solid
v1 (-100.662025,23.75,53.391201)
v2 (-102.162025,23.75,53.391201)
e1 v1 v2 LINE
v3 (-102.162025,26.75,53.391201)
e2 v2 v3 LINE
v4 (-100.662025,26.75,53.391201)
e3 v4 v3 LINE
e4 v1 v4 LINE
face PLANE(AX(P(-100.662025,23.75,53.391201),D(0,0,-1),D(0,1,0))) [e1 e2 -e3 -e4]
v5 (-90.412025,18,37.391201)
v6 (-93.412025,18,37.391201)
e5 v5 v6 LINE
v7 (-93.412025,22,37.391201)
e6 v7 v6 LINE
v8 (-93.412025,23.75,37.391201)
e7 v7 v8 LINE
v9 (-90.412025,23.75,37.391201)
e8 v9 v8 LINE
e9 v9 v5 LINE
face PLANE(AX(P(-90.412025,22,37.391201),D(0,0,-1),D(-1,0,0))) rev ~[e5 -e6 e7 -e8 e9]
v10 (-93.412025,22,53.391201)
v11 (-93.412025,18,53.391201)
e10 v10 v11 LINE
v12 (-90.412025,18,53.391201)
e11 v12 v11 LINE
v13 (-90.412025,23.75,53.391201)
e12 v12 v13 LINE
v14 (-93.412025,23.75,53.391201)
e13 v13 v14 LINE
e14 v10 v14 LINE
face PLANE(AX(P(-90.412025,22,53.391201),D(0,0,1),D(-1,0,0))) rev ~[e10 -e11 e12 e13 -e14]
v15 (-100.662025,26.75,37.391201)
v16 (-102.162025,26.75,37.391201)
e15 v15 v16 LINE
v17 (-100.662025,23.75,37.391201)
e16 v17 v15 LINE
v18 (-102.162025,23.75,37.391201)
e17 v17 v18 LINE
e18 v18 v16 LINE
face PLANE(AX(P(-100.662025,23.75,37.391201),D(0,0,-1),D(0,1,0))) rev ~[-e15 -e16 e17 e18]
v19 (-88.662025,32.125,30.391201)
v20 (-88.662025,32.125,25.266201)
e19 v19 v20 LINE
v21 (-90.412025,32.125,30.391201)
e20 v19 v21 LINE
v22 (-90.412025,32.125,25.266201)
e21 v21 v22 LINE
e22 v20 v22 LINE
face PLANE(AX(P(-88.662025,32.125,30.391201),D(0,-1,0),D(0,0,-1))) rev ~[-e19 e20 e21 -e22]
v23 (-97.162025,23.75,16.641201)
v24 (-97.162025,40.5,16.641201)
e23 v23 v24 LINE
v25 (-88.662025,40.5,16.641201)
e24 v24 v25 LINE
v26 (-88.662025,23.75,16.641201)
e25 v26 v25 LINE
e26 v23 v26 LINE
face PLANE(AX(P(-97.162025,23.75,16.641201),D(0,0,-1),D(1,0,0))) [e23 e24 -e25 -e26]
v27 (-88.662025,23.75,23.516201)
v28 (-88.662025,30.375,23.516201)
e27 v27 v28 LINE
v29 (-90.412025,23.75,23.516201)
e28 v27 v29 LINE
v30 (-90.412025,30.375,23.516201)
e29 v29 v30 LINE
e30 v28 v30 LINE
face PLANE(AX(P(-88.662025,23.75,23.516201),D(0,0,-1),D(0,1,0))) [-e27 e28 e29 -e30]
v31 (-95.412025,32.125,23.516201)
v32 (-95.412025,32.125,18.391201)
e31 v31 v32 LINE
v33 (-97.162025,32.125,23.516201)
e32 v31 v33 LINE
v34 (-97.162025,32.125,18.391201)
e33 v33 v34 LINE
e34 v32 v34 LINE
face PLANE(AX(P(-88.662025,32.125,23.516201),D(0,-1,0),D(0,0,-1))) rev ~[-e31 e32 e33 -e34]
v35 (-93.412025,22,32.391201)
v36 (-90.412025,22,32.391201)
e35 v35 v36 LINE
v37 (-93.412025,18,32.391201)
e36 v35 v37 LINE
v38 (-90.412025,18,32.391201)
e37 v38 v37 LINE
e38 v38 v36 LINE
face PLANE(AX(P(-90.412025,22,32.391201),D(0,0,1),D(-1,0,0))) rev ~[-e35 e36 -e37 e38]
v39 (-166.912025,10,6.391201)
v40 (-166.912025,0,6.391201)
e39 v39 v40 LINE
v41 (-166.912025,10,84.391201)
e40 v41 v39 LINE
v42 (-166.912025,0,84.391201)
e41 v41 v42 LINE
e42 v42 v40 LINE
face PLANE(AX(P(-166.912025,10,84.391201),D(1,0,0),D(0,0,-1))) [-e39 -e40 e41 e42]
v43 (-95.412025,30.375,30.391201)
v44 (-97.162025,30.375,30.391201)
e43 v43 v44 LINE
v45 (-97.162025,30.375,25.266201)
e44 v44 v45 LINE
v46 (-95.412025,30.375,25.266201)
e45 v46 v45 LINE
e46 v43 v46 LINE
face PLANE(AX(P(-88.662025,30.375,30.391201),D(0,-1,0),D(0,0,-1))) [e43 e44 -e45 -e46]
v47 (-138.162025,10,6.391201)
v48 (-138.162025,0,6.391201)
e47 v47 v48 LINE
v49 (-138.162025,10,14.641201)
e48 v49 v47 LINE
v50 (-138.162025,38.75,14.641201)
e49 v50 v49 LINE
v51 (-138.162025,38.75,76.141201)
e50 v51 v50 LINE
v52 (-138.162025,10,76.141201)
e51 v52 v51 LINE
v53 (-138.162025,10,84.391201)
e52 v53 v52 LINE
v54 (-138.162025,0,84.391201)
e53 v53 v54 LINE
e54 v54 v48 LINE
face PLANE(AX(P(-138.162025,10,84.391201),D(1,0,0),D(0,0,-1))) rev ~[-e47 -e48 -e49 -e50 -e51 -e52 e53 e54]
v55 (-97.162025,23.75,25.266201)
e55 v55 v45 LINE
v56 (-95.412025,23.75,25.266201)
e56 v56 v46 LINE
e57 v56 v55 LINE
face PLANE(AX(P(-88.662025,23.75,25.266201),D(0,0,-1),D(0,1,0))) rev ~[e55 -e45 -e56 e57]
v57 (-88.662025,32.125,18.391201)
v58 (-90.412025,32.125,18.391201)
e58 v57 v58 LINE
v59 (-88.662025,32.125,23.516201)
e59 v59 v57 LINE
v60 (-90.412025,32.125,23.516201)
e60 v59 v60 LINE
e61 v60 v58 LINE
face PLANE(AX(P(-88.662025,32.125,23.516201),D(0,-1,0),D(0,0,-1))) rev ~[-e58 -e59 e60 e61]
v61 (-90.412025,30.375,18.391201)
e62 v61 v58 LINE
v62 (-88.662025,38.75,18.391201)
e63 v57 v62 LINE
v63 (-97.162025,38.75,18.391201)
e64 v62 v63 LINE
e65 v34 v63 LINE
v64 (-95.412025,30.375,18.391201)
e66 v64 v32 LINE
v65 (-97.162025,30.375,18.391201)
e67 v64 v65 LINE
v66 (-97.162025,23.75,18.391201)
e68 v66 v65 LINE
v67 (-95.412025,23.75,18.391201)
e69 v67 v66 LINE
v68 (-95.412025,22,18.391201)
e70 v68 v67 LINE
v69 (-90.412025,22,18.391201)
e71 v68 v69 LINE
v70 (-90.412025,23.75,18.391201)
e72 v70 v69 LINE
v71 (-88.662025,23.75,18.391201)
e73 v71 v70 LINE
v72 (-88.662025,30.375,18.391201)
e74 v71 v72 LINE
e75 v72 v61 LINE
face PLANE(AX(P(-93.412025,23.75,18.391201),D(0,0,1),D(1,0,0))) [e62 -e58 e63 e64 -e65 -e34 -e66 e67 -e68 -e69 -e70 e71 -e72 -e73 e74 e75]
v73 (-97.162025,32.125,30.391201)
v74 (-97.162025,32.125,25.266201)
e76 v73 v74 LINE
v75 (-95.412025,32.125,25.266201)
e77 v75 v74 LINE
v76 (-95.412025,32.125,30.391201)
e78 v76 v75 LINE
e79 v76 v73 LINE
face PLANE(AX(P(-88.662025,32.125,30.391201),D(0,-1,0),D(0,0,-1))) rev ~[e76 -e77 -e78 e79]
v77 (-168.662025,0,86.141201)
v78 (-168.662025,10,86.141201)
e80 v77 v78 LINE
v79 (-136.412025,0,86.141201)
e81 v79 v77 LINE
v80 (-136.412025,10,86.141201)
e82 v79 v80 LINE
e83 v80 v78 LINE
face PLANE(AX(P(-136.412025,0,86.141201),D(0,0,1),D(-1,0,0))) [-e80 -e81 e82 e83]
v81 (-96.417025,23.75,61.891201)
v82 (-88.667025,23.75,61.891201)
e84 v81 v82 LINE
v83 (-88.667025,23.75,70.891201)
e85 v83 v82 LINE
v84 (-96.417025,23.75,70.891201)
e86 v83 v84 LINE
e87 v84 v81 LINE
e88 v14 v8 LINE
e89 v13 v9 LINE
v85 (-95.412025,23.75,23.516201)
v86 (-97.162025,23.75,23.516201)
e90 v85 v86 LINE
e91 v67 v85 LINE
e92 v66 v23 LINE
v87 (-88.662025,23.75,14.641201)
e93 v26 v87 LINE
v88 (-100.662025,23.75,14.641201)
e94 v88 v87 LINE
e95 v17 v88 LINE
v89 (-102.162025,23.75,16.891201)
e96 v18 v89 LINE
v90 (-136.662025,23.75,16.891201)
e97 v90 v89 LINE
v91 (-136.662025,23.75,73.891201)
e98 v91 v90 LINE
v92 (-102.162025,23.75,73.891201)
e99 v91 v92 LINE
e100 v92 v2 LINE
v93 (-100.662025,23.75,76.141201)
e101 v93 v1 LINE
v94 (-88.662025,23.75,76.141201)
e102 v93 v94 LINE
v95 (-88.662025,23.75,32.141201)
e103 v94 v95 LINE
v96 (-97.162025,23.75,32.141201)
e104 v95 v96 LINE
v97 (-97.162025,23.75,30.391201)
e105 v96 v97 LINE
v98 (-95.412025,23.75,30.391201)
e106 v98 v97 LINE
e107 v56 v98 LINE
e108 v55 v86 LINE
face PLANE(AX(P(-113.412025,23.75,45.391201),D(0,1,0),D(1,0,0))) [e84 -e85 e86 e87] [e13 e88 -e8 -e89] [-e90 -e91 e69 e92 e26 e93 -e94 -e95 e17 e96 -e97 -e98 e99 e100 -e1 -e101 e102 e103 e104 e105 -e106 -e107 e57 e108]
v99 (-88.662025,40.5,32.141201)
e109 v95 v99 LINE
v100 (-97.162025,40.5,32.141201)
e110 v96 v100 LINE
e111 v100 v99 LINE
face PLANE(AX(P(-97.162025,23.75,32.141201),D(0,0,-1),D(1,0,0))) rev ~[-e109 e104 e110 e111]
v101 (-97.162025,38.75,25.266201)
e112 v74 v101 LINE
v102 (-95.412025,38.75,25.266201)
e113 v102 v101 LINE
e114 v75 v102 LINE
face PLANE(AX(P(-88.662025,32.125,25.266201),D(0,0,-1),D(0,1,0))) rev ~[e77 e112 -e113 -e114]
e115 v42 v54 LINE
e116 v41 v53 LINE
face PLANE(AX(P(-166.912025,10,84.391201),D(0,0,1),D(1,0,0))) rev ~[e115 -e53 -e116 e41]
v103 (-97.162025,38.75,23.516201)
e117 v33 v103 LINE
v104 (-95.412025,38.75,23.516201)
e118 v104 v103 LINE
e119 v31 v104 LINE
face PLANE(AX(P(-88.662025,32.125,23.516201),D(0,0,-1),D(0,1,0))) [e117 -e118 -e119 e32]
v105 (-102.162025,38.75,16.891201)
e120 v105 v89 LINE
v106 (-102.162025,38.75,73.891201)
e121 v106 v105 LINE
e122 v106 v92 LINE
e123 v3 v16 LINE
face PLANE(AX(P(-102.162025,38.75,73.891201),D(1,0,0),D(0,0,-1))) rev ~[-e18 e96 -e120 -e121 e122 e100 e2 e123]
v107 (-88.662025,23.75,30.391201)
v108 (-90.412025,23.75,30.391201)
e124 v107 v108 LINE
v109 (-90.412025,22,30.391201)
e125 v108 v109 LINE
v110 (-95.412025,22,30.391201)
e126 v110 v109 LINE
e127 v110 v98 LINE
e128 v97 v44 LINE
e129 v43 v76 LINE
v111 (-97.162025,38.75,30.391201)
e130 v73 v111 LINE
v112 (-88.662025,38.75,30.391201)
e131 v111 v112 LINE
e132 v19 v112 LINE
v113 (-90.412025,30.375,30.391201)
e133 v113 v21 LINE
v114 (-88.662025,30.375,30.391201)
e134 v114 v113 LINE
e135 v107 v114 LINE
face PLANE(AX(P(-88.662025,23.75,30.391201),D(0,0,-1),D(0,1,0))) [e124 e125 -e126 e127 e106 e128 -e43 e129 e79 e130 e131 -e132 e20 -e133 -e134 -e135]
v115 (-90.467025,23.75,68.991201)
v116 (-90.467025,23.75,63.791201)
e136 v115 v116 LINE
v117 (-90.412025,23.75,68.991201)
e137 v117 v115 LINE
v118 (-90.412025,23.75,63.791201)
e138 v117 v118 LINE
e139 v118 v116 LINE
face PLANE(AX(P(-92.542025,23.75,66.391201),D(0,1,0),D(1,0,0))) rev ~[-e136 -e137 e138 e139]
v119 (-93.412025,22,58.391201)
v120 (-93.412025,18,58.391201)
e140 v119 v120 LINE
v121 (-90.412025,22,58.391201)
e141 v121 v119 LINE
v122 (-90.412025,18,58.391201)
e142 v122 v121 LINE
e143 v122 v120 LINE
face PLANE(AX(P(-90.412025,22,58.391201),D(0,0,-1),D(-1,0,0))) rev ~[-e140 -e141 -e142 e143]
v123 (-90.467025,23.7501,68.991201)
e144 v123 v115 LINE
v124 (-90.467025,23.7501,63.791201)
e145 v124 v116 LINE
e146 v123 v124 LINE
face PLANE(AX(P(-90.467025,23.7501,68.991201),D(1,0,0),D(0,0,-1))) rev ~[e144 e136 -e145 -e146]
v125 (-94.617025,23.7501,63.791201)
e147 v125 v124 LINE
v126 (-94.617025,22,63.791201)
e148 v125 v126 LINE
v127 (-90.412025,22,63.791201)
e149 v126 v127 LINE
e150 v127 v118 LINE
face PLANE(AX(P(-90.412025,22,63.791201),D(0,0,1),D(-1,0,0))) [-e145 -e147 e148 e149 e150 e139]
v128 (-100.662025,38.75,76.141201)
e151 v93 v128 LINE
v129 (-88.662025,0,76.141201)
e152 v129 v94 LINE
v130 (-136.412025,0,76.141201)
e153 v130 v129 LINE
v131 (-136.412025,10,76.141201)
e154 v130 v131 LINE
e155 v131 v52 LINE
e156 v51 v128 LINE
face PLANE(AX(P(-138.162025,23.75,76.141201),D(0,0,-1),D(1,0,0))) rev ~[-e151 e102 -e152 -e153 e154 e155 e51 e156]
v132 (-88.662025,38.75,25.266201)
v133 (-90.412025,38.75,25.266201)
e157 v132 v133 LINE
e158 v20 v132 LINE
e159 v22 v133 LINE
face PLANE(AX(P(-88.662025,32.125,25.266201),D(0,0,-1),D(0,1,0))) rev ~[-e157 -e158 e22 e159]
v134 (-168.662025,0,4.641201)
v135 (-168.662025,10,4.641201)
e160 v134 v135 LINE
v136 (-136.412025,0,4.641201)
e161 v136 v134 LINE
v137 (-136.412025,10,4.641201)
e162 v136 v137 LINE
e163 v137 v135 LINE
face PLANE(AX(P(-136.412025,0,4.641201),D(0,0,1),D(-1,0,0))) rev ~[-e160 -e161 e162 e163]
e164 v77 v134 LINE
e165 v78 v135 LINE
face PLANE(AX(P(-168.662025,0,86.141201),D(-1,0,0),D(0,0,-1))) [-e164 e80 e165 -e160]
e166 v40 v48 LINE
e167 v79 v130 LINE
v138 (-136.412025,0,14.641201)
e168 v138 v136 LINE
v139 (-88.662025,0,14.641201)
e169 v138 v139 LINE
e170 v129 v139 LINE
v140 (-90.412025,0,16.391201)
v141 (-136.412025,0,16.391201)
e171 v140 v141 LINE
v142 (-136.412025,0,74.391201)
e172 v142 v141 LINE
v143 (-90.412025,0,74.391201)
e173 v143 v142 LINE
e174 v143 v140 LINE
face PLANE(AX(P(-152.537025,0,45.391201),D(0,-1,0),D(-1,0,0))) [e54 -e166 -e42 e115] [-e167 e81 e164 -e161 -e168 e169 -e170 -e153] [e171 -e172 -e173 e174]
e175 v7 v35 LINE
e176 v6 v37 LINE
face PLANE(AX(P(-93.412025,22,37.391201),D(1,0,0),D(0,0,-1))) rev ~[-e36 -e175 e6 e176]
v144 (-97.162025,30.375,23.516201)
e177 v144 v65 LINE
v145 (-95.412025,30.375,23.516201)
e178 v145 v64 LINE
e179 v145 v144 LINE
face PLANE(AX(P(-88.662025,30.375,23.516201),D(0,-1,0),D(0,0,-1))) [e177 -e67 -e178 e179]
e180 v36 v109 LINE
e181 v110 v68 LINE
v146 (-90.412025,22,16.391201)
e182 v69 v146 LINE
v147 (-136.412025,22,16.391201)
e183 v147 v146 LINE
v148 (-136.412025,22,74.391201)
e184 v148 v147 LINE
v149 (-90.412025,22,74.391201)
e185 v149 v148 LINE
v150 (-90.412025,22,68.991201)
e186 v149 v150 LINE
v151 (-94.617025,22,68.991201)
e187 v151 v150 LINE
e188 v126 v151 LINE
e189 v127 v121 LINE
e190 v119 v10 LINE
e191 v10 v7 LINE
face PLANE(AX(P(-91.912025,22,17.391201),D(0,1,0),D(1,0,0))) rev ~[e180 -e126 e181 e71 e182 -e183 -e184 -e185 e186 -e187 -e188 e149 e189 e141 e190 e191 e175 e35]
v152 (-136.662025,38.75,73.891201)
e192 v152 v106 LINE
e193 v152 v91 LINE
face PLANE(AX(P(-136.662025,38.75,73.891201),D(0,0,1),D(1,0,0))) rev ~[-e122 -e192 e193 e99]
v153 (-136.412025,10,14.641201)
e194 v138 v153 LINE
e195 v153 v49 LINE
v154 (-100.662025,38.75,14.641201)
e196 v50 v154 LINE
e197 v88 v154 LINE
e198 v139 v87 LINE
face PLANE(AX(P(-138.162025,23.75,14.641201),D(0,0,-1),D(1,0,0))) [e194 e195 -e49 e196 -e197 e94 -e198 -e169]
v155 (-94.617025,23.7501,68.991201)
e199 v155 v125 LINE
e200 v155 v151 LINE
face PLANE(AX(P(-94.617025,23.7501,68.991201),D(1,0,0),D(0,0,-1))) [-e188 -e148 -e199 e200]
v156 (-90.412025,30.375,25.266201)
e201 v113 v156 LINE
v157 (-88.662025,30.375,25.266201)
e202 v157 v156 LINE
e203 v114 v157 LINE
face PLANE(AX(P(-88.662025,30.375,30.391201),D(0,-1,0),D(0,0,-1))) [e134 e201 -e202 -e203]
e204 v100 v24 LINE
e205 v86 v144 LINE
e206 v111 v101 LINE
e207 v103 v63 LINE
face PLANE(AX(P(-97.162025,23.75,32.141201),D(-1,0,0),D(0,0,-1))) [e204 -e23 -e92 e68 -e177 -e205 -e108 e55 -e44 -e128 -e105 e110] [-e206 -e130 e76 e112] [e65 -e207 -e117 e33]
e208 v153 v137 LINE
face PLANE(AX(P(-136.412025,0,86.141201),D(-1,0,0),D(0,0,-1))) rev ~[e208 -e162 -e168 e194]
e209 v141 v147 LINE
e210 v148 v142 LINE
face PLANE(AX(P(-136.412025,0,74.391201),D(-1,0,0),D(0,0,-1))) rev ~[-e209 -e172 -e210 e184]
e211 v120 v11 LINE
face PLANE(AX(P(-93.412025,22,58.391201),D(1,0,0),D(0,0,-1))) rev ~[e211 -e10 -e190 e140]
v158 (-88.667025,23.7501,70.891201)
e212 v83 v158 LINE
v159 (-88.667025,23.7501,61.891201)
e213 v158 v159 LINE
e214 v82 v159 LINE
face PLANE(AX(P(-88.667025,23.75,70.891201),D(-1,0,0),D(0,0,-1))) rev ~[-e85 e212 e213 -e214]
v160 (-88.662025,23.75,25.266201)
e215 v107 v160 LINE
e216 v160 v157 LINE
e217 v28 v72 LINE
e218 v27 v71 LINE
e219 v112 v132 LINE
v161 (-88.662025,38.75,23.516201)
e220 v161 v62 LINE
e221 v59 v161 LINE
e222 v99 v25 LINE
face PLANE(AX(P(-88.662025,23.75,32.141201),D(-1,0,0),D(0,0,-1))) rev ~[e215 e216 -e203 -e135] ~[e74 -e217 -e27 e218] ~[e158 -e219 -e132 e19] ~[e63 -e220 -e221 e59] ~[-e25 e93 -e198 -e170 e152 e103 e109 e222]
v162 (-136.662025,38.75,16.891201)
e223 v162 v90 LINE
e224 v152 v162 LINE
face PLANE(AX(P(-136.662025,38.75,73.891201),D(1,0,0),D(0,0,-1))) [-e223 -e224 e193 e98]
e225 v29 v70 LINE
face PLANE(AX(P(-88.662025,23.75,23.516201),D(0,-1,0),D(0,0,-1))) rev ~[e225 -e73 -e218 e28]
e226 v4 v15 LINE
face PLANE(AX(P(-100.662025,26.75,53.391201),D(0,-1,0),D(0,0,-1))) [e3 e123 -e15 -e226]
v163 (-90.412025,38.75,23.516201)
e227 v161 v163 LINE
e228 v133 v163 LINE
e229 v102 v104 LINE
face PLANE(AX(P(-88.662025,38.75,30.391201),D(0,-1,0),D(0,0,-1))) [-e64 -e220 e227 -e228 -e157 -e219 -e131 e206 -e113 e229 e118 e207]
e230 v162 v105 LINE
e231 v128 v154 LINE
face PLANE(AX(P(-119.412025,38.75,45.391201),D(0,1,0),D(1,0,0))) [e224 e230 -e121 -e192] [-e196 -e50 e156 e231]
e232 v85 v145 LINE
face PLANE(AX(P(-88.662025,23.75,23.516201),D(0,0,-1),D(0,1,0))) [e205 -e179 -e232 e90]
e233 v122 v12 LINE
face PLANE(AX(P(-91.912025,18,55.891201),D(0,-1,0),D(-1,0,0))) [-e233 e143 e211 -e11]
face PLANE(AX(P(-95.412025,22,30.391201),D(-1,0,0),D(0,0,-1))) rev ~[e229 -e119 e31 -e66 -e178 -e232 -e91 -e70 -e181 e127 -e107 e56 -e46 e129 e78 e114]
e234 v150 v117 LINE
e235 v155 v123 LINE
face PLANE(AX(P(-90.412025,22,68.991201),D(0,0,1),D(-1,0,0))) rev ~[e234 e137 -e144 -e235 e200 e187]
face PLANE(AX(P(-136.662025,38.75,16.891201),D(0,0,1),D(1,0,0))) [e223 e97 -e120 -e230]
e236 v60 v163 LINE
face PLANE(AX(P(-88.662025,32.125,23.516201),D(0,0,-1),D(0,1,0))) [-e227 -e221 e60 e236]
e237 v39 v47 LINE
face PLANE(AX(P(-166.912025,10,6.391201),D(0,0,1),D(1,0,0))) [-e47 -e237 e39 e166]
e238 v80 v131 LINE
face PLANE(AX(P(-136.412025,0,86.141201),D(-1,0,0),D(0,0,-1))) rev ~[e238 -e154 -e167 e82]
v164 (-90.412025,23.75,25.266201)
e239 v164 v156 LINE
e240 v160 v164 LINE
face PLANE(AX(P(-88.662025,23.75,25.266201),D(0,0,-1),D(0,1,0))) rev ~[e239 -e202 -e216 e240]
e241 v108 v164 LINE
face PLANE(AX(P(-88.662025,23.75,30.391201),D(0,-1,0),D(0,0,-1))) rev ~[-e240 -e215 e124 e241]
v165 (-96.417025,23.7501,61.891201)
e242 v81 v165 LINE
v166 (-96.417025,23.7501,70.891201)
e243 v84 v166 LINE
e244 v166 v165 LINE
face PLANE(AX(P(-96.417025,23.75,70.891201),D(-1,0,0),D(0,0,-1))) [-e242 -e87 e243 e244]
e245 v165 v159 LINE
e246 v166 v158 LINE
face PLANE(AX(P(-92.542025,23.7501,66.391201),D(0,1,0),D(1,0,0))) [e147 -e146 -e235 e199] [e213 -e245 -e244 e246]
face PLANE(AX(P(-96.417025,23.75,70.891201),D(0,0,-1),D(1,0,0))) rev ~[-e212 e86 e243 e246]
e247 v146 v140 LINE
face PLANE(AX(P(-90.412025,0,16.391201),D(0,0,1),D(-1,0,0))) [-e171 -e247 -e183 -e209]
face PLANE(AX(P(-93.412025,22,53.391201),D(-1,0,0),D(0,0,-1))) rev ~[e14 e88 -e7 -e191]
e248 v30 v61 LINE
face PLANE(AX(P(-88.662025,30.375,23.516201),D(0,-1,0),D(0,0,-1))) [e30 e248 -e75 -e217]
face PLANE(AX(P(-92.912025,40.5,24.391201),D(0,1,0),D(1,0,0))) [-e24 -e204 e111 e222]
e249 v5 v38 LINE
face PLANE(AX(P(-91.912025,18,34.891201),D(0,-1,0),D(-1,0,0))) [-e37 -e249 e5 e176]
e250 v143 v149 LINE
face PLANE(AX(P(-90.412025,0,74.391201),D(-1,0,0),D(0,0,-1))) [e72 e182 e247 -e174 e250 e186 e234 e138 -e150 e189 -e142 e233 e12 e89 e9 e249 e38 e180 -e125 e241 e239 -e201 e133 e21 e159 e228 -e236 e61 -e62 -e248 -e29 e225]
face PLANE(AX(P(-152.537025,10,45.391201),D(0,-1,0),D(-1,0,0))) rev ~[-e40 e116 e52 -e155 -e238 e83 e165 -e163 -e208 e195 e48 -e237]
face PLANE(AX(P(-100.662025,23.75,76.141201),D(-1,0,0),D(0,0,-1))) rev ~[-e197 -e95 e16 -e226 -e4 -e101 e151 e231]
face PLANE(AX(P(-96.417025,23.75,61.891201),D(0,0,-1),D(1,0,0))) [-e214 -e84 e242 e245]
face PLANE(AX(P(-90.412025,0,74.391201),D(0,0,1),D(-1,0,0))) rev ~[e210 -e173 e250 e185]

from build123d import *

# Parameters (mm, degrees)
SKETCH1_W               = 49.5
SKETCH1_H               = 61.5
BOSS_EXTRUDE1_DEPTH     = 23.75
SKETCH2_W               = 46
SKETCH2_H               = 58
CUT_EXTRUDE1_DEPTH      = 22
SKETCH3_W               = 3
SKETCH3_H               = 16
CUT_EXTRUDE2_DEPTH      = 1.75
SKETCH7_W               = 3
SKETCH7_H               = 5
BOSS_EXTRUDE2_DEPTH     = 4
SKETCH11_W              = 37.5
SKETCH11_H              = 61.5
BOSS_EXTRUDE3_DEPTH     = 15
SKETCH12_W              = 34.5
SKETCH12_H              = 57
CUT_EXTRUDE3_DEPTH      = 15
SKETCH14_W              = 7.75
SKETCH14_H              = 9
BOSS_EXTRUDE4_DEPTH     = 0.0001
SKETCH15_W              = 4.15
SKETCH15_H              = 5.2
CUT_EXTRUDE4_DEPTH      = 4.75
SKETCH16_W              = 8.5
SKETCH16_H              = 15.5
BOSS_EXTRUDE5_DEPTH     = 16.75
SKETCH17_W              = 5.125
SKETCH17_H              = 6.625
CUT_EXTRUDE5_DEPTH      = 8.5
CUT_EXTRUDE6_DEPTH      = 15
CUT_EXTRUDE6_DEPTH_BACK = 1.75
SKETCH18_W              = 5
SKETCH18_H              = 12
SKETCH20_W              = 16
SKETCH20_H              = 3
CUT_EXTRUDE7_DEPTH      = 1.75
SKETCH21_W              = 32.25
SKETCH21_H              = 81.5
BOSS_EXTRUDE7_DEPTH     = 10
SKETCH23_W              = 28.75
SKETCH23_H              = 78
CUT_EXTRUDE8_DEPTH      = 10
SKETCH25_W              = 3
SKETCH25_H              = 5.4
BOSS_EXTRUDE8_DEPTH     = 1.75
SKETCH28_W              = 3
SKETCH28_H              = 2
BOSS_EXTRUDE9_DEPTH     = 1.75


with BuildPart() as part:
    # Sketch1 → Boss-Extrude1 (new body)
    with BuildSketch(Plane(origin=(0, 0, 0), x_dir=(1, 0, 0), z_dir=(0, 1, 0))):
        with Locations((-113.412024913, -45.391200727)):
            Rectangle(SKETCH1_W, SKETCH1_H)
    extrude(amount=BOSS_EXTRUDE1_DEPTH)

    # Sketch2 → Cut-Extrude1 (cut)
    with BuildSketch(Plane(origin=(0, 0, 0), x_dir=(-1, 0, 0), z_dir=(0, -1, 0))):
        with Locations((113.412024913, -45.391200727)):
            Rectangle(SKETCH2_W, SKETCH2_H)
    extrude(amount=-CUT_EXTRUDE1_DEPTH, mode=Mode.SUBTRACT)

    # Sketch3 → Cut-Extrude2 (cut)
    with BuildSketch(Plane(origin=(0, 22, 0), x_dir=(-1, 0, 0), z_dir=(0, -1, 0))):
        with Locations((91.912024913, -66.391200727)):
            Rectangle(SKETCH3_W, SKETCH3_H)
        with Locations((91.912024913, -24.391200727)):
            Rectangle(SKETCH3_W, SKETCH3_H)
        with Locations((91.912024913, -45.391200727)):
            Rectangle(SKETCH3_W, SKETCH3_H)
    extrude(amount=-CUT_EXTRUDE2_DEPTH, mode=Mode.SUBTRACT)

    # Sketch7 → Boss-Extrude2 (add)
    with BuildSketch(Plane(origin=(0, 22, 0), x_dir=(-1, 0, 0), z_dir=(0, -1, 0))):
        with Locations((91.912024913, -55.891200727)):
            Rectangle(SKETCH7_W, SKETCH7_H)
        with Locations((91.912024913, -34.891200727)):
            Rectangle(SKETCH7_W, SKETCH7_H)
    extrude(amount=BOSS_EXTRUDE2_DEPTH)

    # Sketch11 → Boss-Extrude3 (add)
    with BuildSketch(Plane(origin=(0, 23.75, 0), x_dir=(1, 0, 0), z_dir=(0, 1, 0))):
        with Locations((-119.412024913, -45.391200727)):
            Rectangle(SKETCH11_W, SKETCH11_H)
    extrude(amount=BOSS_EXTRUDE3_DEPTH)

    # Sketch12 → Cut-Extrude3 (cut)
    with BuildSketch(Plane(origin=(0, 38.75, 0), x_dir=(1, 0, 0), z_dir=(0, 1, 0))):
        with Locations((-119.412024913, -45.391200727)):
            Rectangle(SKETCH12_W, SKETCH12_H)
    extrude(amount=-CUT_EXTRUDE3_DEPTH, mode=Mode.SUBTRACT)

    # Sketch14 → Boss-Extrude4 (add)
    with BuildSketch(Plane(origin=(0, 23.75, 0), x_dir=(1, 0, 0), z_dir=(0, 1, 0))):
        with Locations((-92.542024913, -66.391200727)):
            Rectangle(SKETCH14_W, SKETCH14_H)
    extrude(amount=BOSS_EXTRUDE4_DEPTH)

    # Sketch15 → Cut-Extrude4 (cut)
    with BuildSketch(Plane(origin=(0, 23.7501, 0), x_dir=(1, 0, 0), z_dir=(0, 1, 0))):
        with Locations((-92.542024913, -66.391200727)):
            Rectangle(SKETCH15_W, SKETCH15_H)
    extrude(amount=-CUT_EXTRUDE4_DEPTH, mode=Mode.SUBTRACT)

    # Sketch16 → Boss-Extrude5 (add)
    with BuildSketch(Plane(origin=(0, 23.75, 0), x_dir=(1, 0, 0), z_dir=(0, 1, 0))):
        with Locations((-92.912024913, -24.391200727)):
            Rectangle(SKETCH16_W, SKETCH16_H)
    extrude(amount=BOSS_EXTRUDE5_DEPTH)

    # Sketch17 → Cut-Extrude5 (cut)
    with BuildSketch(Plane(origin=(-88.662024913, 0, 0), x_dir=(0, 0, -1), z_dir=(1, 0, 0))):
        with Locations((-27.828700727, 35.4375)):
            Rectangle(SKETCH17_W, SKETCH17_H)
        with Locations((-27.828700727, 27.0625)):
            Rectangle(SKETCH17_W, SKETCH17_H)
        with Locations((-20.953700727, 35.4375)):
            Rectangle(SKETCH17_W, SKETCH17_H)
        with Locations((-20.953700727, 27.0625)):
            Rectangle(SKETCH17_W, SKETCH17_H)
    extrude(amount=-CUT_EXTRUDE5_DEPTH, mode=Mode.SUBTRACT)

    # Sketch18 → Cut-Extrude6 (cut, two sides: drawn at the far end of the back side and taken through both)
    with BuildSketch(Plane(origin=(0, 23.75, 0), x_dir=(1, 0, 0), z_dir=(0, 1, 0)).offset(-CUT_EXTRUDE6_DEPTH_BACK)):
        with Locations((-92.912024913, -24.391200727)):
            Rectangle(SKETCH18_W, SKETCH18_H)
    extrude(amount=CUT_EXTRUDE6_DEPTH + CUT_EXTRUDE6_DEPTH_BACK, mode=Mode.SUBTRACT)

    # Sketch20 → Cut-Extrude7 (cut)
    with BuildSketch(Plane(origin=(-100.662024913, 0, 0), x_dir=(0, 0, -1), z_dir=(1, 0, 0))):
        with Locations((-45.391200727, 25.25)):
            Rectangle(SKETCH20_W, SKETCH20_H)
    extrude(amount=-CUT_EXTRUDE7_DEPTH, mode=Mode.SUBTRACT)

    # Sketch21 → Boss-Extrude7 (add)
    with BuildSketch(Plane(origin=(0, 0, 0), x_dir=(-1, 0, 0), z_dir=(0, -1, 0))):
        with Locations((152.537024913, -45.391200727)):
            Rectangle(SKETCH21_W, SKETCH21_H)
    extrude(amount=-BOSS_EXTRUDE7_DEPTH)

    # Sketch23 → Cut-Extrude8 (cut)
    with BuildSketch(Plane(origin=(0, 10, 0), x_dir=(1, 0, 0), z_dir=(0, 1, 0))):
        with Locations((-152.537024913, -45.391200727)):
            Rectangle(SKETCH23_W, SKETCH23_H)
    extrude(amount=-CUT_EXTRUDE8_DEPTH, mode=Mode.SUBTRACT)

    # Sketch25 → Boss-Extrude8 (add)
    with BuildSketch(Plane(origin=(0, 22, 0), x_dir=(-1, 0, 0), z_dir=(0, -1, 0))):
        with Locations((91.912024913, -61.091200727)):
            Rectangle(SKETCH25_W, SKETCH25_H)
        with Locations((91.912024913, -71.691200727)):
            Rectangle(SKETCH25_W, SKETCH25_H)
    extrude(amount=-BOSS_EXTRUDE8_DEPTH)

    # Sketch28 → Boss-Extrude9 (add)
    with BuildSketch(Plane(origin=(0, 23.75, 0), x_dir=(1, 0, 0), z_dir=(0, 1, 0))):
        with Locations((-91.912024913, -17.391200727)):
            Rectangle(SKETCH28_W, SKETCH28_H)
        with Locations((-91.912024913, -31.391200727)):
            Rectangle(SKETCH28_W, SKETCH28_H)
    extrude(amount=-BOSS_EXTRUDE9_DEPTH)


solid = part.part
